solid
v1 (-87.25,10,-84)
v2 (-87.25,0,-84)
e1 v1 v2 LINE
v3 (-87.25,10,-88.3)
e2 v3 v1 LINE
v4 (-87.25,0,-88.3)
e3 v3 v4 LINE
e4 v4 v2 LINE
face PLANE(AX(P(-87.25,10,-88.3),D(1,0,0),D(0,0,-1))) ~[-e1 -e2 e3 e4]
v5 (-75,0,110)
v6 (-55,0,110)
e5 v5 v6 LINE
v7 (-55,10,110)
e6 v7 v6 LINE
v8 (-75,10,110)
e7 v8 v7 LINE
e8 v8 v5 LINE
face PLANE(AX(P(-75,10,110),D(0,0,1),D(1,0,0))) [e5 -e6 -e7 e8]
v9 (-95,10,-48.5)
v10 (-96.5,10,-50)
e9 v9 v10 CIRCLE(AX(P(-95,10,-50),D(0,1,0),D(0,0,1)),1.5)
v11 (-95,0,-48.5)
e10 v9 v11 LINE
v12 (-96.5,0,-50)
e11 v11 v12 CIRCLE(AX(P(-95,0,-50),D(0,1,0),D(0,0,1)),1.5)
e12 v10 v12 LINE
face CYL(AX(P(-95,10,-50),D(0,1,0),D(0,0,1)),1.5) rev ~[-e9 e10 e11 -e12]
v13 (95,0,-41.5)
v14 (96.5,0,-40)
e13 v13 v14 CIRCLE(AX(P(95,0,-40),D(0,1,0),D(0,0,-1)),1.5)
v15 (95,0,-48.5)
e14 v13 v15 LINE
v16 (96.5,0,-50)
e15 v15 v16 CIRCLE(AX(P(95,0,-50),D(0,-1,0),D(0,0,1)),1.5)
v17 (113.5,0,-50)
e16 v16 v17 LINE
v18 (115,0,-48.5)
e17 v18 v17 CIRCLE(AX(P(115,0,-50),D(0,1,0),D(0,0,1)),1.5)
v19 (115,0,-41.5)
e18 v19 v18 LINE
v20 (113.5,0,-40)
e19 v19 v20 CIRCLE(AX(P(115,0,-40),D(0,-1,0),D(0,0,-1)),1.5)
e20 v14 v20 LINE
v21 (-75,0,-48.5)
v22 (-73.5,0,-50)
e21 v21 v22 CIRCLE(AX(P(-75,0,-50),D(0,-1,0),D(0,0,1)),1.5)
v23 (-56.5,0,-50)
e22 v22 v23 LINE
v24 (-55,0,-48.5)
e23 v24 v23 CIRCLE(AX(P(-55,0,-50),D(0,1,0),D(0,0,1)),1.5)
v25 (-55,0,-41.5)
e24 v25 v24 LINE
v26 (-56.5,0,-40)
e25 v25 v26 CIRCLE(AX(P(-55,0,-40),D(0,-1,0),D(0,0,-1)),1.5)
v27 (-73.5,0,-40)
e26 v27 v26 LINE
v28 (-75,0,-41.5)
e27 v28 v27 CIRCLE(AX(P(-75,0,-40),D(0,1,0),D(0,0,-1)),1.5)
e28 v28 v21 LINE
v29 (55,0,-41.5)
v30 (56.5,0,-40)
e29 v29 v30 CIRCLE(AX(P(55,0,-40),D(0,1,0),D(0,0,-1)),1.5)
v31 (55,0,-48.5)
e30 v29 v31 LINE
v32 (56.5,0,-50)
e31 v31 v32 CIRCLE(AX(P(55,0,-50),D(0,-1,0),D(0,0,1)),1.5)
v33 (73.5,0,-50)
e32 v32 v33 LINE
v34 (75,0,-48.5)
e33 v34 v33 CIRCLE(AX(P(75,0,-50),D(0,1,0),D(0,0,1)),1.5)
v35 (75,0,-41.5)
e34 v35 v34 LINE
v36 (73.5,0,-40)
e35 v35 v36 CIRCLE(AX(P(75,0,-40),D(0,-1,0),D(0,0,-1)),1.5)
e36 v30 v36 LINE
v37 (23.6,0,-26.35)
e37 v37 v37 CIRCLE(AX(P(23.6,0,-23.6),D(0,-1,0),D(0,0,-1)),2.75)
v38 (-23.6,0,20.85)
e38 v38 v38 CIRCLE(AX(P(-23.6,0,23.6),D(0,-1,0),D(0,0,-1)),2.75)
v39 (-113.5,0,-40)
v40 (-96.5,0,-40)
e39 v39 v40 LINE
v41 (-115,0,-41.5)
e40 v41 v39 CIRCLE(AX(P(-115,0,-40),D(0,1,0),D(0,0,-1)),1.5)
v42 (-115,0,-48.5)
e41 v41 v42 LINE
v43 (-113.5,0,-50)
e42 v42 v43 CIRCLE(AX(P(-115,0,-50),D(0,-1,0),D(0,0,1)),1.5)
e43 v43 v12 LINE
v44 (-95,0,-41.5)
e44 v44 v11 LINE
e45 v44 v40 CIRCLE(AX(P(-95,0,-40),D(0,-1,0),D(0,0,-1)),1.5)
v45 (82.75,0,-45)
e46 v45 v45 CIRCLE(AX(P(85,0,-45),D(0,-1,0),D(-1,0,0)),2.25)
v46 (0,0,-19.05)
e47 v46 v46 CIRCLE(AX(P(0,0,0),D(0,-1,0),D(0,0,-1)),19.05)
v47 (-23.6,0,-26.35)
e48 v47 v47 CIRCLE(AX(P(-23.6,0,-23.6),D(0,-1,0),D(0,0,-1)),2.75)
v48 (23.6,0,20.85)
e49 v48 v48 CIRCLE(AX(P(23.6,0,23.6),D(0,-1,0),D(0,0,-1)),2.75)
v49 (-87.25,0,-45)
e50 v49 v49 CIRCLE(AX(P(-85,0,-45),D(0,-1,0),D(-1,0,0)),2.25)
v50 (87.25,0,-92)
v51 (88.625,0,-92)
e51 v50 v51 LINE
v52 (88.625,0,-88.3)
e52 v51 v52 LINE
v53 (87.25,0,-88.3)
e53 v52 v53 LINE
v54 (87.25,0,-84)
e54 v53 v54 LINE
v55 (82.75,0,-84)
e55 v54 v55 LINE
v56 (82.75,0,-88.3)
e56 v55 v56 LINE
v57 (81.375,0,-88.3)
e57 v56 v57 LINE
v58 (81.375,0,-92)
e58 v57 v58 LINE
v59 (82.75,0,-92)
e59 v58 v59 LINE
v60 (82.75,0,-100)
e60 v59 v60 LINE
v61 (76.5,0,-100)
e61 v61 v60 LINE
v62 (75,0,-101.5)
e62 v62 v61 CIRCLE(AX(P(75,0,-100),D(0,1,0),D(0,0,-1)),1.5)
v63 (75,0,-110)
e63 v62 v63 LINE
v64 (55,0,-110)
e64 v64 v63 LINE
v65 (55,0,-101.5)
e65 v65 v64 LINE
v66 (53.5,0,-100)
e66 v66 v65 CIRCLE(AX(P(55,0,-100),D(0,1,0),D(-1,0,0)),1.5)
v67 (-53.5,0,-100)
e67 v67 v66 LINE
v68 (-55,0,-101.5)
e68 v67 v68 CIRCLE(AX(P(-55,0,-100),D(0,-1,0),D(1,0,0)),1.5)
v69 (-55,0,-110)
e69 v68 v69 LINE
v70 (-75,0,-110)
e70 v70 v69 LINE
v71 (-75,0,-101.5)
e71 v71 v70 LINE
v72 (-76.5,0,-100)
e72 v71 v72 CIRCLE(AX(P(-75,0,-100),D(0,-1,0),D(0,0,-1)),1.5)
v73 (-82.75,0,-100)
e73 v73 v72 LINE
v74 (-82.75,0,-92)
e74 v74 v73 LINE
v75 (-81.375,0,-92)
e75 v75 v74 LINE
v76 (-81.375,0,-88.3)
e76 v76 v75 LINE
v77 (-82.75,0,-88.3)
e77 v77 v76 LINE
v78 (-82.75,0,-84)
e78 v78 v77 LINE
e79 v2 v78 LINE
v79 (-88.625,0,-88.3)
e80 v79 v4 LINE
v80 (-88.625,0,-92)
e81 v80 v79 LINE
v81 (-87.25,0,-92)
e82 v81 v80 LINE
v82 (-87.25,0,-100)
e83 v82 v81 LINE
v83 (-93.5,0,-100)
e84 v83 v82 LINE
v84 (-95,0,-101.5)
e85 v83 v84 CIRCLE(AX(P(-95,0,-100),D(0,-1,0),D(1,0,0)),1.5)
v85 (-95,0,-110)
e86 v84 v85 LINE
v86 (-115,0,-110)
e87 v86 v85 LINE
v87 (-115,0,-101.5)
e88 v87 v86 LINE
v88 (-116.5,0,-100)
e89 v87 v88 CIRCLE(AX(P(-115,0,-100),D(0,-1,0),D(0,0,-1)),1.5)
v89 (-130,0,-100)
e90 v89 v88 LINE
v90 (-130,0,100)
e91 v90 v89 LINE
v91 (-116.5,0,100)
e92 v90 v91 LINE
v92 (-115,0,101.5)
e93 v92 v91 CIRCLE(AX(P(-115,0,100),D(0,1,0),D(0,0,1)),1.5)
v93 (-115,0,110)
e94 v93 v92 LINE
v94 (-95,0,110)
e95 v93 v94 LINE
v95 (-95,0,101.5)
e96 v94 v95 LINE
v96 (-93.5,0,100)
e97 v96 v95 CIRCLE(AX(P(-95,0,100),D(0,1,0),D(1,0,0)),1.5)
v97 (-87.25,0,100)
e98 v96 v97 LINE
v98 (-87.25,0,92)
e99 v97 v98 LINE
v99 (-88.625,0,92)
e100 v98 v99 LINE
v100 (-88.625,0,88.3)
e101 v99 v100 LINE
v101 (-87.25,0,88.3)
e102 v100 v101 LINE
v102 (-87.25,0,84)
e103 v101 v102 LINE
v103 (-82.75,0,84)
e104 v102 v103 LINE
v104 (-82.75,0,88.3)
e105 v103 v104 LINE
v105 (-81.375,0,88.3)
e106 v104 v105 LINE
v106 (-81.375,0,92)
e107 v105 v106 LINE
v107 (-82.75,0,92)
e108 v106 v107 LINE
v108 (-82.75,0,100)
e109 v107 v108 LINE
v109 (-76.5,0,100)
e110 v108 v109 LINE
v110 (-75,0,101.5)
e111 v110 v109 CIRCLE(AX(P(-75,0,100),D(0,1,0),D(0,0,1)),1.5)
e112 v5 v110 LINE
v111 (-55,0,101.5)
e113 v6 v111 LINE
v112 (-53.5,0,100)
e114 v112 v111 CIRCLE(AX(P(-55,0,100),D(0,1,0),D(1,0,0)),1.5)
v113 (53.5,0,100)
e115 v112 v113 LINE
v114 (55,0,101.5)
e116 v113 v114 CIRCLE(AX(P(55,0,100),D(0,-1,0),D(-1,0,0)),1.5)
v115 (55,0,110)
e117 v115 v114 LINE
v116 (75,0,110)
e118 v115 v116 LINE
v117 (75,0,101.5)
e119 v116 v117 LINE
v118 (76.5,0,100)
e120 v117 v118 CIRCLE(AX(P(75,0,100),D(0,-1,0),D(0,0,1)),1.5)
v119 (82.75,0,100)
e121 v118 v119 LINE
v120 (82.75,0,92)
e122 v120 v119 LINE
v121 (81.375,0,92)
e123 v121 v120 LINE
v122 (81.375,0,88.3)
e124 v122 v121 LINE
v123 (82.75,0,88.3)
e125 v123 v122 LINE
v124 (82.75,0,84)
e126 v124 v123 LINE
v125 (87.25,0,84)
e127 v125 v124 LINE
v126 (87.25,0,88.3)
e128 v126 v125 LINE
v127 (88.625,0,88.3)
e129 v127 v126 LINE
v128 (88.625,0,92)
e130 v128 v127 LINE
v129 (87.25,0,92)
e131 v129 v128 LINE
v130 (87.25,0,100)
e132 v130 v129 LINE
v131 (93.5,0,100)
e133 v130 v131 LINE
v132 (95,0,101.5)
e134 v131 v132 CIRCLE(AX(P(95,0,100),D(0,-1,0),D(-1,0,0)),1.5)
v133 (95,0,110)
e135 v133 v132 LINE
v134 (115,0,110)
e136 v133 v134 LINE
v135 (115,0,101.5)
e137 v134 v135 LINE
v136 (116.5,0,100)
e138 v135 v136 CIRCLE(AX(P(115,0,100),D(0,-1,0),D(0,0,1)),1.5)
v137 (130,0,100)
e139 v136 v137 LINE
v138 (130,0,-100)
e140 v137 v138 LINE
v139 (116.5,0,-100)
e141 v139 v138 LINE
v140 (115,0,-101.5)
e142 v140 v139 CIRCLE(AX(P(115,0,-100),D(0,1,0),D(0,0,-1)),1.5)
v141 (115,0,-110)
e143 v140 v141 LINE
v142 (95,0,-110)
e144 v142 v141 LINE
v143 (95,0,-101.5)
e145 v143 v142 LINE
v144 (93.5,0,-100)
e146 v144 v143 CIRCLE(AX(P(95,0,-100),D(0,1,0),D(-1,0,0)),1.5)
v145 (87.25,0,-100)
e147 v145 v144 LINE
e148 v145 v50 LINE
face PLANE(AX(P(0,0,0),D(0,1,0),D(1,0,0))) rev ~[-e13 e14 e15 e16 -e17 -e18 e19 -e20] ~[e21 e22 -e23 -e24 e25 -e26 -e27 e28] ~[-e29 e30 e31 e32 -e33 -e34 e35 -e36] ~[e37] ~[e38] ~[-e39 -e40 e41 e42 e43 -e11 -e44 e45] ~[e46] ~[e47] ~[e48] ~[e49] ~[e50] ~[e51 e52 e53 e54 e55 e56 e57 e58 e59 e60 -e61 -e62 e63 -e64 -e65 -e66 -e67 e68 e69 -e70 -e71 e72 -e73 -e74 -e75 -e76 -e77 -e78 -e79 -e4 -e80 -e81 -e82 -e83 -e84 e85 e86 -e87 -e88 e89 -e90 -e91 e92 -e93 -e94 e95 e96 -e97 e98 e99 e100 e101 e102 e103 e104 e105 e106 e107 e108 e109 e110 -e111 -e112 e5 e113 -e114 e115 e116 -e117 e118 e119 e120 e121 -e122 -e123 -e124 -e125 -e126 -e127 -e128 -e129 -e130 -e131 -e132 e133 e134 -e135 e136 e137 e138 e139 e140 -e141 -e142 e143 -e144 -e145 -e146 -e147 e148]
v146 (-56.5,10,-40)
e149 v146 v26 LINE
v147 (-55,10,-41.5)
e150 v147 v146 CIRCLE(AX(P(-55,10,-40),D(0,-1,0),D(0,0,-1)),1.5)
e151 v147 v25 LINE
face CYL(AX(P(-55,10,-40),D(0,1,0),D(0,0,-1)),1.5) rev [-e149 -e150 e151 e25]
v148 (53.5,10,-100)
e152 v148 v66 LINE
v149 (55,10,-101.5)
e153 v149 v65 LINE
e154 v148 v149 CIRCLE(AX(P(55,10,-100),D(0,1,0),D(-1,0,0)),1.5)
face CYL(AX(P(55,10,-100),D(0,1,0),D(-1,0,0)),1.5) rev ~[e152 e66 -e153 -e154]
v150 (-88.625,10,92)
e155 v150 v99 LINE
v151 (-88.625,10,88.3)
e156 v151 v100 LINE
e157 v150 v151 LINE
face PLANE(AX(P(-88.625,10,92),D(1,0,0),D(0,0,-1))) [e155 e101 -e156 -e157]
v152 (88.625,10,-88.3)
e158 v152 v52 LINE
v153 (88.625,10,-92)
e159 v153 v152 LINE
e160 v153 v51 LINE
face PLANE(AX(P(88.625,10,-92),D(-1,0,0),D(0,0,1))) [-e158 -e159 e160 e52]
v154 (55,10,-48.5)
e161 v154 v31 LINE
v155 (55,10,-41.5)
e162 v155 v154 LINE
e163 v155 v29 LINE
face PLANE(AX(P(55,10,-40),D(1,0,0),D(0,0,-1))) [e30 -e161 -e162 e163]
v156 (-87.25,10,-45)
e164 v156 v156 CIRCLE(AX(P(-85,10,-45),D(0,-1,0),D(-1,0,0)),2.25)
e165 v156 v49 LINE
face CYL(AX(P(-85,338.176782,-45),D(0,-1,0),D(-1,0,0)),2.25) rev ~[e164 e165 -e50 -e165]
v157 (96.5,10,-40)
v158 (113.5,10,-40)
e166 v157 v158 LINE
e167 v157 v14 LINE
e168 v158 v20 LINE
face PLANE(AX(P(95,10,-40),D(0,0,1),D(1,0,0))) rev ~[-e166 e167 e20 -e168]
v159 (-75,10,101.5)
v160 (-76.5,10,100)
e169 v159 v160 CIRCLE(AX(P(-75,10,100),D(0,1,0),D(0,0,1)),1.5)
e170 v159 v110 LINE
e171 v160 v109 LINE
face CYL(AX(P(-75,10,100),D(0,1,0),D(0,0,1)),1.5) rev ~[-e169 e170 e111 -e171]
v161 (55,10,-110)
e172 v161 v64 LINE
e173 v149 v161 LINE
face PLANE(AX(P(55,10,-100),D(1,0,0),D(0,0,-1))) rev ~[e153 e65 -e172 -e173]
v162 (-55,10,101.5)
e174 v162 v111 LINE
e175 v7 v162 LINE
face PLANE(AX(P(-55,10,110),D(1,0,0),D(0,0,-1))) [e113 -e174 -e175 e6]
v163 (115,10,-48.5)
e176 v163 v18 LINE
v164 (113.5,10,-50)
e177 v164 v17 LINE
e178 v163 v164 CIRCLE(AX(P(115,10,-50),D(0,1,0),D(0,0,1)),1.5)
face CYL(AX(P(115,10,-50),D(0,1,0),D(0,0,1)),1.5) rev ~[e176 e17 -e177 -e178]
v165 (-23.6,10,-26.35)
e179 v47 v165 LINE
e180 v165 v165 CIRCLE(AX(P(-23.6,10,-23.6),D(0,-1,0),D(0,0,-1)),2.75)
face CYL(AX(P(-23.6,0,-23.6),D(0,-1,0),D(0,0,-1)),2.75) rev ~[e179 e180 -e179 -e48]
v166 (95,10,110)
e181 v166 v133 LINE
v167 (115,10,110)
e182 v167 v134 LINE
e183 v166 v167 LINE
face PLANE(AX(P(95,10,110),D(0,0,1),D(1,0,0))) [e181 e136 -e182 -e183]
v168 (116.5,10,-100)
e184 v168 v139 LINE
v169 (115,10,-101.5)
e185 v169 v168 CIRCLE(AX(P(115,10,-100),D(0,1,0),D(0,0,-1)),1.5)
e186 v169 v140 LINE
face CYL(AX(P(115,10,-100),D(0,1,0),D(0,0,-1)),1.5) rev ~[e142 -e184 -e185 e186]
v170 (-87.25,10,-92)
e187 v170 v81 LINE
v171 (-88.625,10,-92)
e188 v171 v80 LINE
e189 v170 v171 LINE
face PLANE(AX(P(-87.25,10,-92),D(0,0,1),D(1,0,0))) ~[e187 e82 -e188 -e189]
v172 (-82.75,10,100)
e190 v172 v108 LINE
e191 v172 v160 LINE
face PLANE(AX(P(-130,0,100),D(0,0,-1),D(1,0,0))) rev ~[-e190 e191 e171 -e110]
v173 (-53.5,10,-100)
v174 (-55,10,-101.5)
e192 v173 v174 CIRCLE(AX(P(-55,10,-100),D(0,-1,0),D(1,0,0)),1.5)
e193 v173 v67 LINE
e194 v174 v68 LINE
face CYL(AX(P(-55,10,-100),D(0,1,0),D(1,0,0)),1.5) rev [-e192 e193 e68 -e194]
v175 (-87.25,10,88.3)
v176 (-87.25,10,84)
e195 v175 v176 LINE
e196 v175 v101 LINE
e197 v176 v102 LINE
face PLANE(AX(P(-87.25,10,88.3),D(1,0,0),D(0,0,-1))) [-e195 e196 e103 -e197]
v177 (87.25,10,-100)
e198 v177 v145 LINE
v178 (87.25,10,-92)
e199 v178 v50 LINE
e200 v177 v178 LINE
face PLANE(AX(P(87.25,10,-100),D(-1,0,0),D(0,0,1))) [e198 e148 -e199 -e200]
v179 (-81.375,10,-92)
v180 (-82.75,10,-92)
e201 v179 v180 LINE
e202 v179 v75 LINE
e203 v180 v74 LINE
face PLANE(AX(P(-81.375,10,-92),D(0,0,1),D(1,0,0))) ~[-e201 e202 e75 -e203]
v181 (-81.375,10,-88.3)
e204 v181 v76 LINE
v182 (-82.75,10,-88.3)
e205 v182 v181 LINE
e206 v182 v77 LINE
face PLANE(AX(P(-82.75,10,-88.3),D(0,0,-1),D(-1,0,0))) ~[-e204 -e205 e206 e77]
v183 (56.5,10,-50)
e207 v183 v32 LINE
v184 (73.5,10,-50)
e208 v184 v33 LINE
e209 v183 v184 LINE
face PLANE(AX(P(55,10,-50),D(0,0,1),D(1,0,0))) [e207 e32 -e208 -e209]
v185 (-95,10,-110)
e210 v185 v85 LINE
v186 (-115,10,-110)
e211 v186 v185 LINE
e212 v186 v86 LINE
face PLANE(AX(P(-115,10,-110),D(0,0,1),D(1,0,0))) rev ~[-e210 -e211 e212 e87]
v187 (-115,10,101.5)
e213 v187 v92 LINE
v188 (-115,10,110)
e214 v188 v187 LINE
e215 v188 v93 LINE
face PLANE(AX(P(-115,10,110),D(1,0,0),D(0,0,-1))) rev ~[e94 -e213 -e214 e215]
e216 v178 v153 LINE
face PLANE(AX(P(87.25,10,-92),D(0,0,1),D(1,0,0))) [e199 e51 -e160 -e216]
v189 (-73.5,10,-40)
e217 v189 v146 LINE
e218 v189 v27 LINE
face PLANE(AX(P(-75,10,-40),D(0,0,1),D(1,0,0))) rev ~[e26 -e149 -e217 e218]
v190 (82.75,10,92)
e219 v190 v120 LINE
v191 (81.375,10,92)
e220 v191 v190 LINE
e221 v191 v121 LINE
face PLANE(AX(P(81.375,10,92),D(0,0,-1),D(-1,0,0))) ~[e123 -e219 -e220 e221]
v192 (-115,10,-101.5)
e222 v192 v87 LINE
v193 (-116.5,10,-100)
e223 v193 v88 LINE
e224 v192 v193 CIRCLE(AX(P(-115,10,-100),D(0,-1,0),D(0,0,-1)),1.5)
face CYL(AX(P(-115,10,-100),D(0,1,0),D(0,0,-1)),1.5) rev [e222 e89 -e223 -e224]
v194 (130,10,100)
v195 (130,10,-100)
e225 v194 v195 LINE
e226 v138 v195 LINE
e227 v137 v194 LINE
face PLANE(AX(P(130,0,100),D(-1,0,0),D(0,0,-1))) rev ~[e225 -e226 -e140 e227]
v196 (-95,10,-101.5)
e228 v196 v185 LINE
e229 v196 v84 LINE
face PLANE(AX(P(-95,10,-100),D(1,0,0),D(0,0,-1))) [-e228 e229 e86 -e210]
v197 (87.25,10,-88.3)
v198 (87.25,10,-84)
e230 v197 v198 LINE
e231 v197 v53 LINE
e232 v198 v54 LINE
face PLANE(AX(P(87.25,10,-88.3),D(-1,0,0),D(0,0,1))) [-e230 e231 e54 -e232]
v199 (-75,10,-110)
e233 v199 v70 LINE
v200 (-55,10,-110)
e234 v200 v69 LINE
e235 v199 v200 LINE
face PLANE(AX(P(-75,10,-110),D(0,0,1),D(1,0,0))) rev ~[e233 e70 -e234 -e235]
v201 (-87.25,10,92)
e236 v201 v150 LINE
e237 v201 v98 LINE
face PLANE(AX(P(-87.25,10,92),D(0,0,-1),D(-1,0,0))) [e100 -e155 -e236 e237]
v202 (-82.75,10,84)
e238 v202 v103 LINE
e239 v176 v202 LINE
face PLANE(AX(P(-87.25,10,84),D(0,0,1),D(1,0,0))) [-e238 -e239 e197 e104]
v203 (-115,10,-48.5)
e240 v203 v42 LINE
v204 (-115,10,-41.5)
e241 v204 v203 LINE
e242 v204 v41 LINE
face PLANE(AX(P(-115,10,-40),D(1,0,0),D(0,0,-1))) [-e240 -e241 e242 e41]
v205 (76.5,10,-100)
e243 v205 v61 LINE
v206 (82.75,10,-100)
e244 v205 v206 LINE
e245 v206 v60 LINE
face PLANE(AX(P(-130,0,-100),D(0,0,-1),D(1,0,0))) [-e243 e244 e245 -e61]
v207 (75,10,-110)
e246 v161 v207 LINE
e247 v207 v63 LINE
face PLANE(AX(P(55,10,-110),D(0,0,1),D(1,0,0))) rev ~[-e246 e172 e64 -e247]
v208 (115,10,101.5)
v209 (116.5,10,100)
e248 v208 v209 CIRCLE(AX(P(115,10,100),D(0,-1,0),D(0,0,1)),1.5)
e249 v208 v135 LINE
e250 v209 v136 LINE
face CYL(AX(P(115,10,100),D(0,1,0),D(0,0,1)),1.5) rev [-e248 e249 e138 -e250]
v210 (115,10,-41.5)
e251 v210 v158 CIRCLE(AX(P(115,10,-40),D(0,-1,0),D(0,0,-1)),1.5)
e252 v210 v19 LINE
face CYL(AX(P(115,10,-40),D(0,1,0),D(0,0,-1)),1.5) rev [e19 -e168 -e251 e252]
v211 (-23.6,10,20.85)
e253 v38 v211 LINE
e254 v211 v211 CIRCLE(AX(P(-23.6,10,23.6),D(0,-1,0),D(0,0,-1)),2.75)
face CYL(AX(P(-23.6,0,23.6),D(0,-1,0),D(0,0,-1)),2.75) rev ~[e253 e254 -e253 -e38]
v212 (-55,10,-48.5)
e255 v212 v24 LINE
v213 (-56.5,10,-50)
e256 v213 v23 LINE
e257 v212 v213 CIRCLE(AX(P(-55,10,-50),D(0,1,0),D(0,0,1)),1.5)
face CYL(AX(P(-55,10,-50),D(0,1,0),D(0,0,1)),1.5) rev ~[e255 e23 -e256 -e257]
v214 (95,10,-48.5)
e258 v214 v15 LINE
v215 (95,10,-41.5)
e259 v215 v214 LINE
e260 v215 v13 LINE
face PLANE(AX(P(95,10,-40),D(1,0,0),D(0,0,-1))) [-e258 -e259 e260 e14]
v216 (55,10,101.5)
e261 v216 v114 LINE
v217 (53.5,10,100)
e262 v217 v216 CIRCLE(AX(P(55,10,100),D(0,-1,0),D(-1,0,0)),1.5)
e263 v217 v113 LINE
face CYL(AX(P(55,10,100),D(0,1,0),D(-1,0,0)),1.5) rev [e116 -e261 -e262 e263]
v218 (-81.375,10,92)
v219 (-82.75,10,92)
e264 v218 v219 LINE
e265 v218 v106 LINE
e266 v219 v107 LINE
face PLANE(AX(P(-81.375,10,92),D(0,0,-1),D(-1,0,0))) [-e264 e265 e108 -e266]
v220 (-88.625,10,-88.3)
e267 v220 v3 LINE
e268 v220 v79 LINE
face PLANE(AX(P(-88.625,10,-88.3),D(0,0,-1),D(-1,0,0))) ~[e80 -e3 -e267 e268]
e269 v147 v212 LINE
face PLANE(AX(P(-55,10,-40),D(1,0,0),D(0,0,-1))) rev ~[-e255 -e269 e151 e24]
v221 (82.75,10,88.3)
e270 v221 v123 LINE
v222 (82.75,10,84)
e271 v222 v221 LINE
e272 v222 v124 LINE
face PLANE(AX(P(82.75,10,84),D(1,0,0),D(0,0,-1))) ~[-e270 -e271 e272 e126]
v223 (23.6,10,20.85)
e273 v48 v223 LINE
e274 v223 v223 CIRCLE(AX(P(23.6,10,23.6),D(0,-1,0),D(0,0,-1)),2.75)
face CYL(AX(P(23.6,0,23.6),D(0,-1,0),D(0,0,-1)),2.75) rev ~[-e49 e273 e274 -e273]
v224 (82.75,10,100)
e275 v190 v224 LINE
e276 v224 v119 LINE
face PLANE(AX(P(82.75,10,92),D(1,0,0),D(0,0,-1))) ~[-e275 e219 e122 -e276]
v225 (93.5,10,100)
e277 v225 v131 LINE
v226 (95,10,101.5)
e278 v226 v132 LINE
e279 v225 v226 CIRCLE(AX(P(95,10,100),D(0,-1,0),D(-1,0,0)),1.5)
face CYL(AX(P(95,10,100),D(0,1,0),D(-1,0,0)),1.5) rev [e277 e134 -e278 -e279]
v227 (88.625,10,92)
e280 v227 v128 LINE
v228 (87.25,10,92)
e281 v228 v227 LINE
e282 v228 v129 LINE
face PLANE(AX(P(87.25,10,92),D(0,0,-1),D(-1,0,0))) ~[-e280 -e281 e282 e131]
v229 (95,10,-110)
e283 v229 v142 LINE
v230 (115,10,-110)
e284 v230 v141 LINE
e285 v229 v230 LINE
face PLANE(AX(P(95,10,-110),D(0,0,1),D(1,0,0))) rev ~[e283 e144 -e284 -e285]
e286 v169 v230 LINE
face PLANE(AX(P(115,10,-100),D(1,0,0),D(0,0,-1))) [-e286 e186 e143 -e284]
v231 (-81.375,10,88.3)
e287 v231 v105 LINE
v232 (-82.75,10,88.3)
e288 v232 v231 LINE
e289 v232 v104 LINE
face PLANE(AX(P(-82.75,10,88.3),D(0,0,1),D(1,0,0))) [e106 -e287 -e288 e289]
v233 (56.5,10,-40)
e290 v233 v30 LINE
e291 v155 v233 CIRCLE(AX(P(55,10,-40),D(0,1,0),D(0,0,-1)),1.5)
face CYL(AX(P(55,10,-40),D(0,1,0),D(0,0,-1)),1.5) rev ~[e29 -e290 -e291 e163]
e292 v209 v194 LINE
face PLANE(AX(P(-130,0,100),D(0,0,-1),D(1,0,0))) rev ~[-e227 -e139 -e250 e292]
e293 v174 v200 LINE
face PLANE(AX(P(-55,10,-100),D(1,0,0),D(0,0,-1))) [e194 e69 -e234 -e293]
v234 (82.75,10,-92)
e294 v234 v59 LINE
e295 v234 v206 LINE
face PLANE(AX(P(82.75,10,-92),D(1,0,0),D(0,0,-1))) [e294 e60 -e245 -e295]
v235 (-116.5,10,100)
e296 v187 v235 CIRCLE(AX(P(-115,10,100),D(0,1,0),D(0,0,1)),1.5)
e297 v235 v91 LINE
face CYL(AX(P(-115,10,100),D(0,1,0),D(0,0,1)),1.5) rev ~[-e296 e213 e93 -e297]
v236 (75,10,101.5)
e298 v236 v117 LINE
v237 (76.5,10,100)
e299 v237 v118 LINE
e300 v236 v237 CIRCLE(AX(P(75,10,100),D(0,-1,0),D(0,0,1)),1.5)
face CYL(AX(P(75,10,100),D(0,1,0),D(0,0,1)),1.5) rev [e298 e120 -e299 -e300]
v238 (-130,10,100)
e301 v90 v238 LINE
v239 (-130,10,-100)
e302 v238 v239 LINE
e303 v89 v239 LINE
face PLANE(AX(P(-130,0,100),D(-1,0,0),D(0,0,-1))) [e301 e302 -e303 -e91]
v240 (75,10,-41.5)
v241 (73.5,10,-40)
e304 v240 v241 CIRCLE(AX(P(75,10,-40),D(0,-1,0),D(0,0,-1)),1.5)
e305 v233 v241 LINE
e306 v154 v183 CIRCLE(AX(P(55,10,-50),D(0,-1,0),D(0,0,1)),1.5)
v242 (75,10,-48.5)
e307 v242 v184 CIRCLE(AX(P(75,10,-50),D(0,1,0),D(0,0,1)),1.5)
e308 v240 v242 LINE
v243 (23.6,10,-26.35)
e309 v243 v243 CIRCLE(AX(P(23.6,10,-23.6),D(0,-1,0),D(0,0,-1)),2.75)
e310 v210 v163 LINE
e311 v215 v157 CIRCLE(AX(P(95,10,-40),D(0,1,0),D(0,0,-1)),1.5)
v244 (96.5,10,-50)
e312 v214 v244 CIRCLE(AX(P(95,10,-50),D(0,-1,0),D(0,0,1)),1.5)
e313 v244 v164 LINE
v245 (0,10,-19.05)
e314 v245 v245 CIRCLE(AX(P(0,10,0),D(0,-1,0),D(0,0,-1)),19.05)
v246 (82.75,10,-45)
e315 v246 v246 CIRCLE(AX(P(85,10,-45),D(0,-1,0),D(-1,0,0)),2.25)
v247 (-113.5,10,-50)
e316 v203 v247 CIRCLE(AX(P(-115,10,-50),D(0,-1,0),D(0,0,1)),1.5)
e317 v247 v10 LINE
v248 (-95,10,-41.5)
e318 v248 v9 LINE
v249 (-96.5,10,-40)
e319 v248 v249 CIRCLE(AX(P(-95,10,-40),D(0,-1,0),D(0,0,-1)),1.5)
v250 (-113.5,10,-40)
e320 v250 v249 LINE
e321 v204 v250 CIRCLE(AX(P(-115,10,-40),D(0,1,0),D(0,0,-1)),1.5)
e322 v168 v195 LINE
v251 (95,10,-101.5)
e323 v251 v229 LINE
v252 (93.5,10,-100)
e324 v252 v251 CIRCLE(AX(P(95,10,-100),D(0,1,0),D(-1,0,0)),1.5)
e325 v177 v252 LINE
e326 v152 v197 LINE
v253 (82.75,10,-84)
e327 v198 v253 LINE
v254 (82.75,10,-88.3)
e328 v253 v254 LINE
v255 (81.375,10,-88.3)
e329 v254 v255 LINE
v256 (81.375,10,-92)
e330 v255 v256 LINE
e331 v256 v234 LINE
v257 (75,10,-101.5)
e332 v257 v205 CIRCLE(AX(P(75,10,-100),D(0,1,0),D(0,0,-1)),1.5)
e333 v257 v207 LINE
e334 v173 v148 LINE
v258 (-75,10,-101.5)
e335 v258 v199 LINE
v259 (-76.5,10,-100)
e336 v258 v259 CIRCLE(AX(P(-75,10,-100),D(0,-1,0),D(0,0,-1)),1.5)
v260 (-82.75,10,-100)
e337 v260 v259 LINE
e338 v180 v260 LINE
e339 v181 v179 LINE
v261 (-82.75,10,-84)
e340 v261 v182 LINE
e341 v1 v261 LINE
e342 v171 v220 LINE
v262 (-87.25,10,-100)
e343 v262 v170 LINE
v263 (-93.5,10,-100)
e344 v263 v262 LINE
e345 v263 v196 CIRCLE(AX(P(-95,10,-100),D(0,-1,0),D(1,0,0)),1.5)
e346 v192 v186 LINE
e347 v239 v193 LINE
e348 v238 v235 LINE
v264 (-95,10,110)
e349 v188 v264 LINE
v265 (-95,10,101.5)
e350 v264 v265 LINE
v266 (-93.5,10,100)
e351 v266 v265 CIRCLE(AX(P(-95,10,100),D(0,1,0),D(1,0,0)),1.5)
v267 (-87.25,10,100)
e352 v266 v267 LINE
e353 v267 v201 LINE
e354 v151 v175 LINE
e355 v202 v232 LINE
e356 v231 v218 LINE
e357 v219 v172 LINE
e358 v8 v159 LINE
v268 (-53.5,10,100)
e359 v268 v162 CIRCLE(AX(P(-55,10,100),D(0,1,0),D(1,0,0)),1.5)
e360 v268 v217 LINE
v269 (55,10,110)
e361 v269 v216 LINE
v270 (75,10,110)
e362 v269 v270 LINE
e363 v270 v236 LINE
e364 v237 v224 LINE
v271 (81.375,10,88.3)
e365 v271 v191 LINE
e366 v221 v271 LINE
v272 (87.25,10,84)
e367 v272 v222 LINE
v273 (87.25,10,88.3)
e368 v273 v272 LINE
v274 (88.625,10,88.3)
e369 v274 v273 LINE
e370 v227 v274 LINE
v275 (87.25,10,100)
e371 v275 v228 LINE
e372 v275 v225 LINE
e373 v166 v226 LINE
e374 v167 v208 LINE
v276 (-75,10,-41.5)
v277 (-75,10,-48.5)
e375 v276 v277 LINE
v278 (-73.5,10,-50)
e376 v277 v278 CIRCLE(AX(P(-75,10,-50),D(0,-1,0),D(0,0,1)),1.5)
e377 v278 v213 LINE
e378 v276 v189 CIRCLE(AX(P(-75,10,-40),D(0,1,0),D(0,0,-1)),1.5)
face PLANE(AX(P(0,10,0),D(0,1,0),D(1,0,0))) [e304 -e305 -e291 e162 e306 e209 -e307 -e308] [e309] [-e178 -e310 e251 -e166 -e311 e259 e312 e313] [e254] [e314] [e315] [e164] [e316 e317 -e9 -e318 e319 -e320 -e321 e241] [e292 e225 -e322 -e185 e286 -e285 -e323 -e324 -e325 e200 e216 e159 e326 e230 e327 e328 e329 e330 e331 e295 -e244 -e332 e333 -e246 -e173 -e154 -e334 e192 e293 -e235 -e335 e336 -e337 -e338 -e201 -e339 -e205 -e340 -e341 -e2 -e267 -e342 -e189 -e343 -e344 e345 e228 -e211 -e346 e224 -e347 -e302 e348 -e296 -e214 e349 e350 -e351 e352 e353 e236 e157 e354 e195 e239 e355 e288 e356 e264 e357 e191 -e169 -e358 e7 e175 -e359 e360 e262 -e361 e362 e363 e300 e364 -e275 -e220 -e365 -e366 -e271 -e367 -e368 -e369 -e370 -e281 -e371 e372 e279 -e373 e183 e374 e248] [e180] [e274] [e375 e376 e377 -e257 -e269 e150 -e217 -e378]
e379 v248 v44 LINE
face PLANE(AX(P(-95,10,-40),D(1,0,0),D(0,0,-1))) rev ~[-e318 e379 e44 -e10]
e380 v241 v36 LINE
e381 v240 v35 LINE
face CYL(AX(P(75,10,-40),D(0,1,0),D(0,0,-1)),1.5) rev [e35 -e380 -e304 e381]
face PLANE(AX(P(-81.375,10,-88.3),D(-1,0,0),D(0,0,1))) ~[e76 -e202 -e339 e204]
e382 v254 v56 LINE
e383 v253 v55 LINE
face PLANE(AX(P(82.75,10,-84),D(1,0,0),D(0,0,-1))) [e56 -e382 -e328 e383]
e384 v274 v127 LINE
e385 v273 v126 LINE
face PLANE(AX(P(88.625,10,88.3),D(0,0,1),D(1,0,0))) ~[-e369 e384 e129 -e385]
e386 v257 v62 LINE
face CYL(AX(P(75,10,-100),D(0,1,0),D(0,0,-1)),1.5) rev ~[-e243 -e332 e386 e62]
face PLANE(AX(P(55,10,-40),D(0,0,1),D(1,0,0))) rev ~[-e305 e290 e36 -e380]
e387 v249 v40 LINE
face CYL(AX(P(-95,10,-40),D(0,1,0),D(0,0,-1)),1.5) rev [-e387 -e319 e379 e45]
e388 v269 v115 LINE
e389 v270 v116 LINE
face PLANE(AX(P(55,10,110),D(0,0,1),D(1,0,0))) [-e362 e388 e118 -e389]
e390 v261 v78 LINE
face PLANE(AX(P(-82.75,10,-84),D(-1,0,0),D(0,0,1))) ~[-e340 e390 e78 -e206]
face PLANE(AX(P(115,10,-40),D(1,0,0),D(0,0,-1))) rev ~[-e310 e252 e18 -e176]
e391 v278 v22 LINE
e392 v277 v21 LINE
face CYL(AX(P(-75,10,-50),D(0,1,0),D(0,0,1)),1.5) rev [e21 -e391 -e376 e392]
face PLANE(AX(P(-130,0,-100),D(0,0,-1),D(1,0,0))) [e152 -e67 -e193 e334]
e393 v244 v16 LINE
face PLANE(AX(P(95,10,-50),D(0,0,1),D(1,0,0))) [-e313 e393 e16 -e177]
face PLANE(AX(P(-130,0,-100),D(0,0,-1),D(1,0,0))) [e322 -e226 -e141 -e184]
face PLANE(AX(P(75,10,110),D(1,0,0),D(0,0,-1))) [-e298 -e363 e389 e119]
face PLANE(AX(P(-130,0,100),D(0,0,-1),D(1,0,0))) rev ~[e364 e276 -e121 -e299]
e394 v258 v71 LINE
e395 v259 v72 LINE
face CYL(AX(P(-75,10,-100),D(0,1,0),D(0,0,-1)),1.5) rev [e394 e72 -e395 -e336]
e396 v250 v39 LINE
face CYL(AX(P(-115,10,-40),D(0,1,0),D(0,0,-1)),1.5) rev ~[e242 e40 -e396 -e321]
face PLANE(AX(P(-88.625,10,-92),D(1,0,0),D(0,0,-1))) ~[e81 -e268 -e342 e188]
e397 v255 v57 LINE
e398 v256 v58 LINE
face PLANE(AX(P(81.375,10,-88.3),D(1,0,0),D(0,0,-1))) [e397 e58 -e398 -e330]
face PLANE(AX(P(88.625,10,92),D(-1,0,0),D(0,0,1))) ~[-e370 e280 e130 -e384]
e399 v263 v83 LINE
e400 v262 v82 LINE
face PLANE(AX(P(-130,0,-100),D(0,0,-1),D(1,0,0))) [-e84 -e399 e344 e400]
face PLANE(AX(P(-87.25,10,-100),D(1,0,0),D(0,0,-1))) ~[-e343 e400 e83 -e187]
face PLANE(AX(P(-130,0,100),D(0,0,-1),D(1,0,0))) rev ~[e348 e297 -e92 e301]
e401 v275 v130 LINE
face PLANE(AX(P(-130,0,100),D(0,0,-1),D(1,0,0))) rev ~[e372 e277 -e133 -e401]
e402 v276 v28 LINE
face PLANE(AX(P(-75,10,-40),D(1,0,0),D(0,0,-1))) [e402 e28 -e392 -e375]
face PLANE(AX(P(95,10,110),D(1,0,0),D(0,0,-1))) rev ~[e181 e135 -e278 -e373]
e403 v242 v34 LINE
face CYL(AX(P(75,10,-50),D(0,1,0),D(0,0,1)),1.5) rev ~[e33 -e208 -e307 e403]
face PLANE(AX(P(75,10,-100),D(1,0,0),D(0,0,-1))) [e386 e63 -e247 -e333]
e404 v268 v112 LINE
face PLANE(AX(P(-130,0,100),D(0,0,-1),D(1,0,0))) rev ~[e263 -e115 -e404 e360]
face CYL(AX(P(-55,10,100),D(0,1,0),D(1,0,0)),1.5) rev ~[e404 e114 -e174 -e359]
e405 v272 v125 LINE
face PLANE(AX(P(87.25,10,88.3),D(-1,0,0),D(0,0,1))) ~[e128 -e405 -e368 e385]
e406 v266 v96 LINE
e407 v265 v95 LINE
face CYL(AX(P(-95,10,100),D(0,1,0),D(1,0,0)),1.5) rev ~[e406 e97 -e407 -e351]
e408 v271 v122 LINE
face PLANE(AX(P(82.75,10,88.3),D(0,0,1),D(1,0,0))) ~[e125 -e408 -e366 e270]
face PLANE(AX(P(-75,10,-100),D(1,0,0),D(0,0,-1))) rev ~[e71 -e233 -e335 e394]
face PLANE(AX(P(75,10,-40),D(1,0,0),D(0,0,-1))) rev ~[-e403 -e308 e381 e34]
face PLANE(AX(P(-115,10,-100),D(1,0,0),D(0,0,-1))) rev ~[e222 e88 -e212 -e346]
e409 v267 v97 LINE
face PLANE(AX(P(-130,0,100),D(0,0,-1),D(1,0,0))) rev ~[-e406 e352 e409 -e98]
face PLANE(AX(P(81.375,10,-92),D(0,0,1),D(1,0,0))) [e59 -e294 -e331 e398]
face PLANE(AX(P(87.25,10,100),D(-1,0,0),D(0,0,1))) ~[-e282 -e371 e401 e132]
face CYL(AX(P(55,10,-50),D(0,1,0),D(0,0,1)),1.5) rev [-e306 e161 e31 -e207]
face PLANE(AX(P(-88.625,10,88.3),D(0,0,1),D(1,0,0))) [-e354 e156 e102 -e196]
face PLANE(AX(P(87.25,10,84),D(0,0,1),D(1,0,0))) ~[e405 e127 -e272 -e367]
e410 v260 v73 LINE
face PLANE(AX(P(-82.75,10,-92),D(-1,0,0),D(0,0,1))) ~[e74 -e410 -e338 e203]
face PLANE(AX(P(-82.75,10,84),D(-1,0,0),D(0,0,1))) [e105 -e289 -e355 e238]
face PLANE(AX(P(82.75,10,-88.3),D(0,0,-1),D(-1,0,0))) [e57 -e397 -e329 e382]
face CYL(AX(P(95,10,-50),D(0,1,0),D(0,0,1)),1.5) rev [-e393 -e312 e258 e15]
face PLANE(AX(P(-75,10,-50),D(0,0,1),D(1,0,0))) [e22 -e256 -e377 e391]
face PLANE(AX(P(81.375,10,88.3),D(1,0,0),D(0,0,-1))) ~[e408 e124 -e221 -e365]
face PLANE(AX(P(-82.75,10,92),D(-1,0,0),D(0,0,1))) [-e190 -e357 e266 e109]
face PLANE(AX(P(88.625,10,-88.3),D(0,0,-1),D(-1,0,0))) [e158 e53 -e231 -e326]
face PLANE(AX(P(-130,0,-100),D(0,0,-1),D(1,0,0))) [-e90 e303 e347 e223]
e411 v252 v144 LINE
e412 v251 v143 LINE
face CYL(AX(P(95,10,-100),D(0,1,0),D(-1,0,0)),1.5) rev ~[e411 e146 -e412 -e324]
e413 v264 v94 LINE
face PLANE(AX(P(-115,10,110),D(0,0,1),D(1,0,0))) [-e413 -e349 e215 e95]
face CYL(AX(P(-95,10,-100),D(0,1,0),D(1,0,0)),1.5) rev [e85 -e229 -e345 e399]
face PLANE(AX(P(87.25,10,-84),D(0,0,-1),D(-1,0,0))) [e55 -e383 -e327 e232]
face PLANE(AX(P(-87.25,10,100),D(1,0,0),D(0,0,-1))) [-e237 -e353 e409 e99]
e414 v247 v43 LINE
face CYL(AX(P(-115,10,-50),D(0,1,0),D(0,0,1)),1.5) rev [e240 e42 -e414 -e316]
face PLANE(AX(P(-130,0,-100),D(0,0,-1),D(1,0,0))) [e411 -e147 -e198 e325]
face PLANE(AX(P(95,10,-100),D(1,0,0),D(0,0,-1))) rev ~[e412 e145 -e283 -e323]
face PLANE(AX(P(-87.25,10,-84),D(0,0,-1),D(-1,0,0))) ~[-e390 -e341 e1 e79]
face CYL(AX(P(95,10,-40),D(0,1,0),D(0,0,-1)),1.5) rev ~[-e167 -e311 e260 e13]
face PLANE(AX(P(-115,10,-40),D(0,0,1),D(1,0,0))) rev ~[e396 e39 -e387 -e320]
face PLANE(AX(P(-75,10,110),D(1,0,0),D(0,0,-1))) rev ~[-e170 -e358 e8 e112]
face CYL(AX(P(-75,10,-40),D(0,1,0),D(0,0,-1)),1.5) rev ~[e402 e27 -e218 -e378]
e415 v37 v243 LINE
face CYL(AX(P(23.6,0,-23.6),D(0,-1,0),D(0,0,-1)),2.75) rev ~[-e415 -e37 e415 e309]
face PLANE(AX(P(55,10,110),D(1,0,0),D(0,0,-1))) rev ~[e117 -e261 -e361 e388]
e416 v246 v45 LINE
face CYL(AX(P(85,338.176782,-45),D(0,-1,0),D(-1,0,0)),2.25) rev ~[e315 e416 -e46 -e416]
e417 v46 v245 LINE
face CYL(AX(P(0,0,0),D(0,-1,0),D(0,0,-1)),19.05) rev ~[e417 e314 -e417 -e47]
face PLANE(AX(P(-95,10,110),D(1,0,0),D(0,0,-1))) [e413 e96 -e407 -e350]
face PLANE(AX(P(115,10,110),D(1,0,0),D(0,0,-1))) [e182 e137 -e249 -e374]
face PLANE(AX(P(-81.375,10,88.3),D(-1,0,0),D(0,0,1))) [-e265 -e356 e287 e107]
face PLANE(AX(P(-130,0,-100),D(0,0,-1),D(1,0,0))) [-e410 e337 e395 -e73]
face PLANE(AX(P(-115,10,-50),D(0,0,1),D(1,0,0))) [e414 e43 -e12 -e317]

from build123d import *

# Parameters (mm, degrees)
SKETCH1_W            = 260
SKETCH1_H            = 200
EXTRUDE1_DEPTH       = 10
SKETCH3_W            = 20
SKETCH3_H            = 10
EXTRUDE2_DEPTH       = 10
M4_CLEARANCE_HOLE1_D = 4.5
EXTRUDE3_DEPTH       = 10
MIRROR2_COPY_1_DEPTH = 10
MIRROR3_COPY_1_DEPTH = 10
MIRROR3_COPY_2_DEPTH = 10
MIRROR3_COPY_3_DEPTH = 10
SKETCH7_W            = 20
SKETCH7_H            = 10
EXTRUDE4_DEPTH       = 10
LPATTERN1_COUNT      = 2
LPATTERN1_PITCH      = 170
LPATTERN1_COUNT_DIR2 = 2
LPATTERN1_PITCH_DIR2 = 210
EXTRUDE5_DEPTH       = 10
MIRROR5_COPY_1_DEPTH = 10
EXTRUDE6_DEPTH       = 10
MIRROR7_COPY_1_DEPTH = 10
SKETCH11_R           = 19.05
SKETCH11_R_2         = 2.75
CUT_EXTRUDE2_DEPTH   = 10


with BuildPart() as part:
    # Sketch1 → Extrude1 (new body)
    with BuildSketch(Plane(origin=(0, 0, 0), x_dir=(1, 0, 0), z_dir=(0, 1, 0))):
        Rectangle(SKETCH1_W, SKETCH1_H)
    extrude(amount=EXTRUDE1_DEPTH)

    # Sketch3 → Extrude2 (cut)
    with BuildSketch(Plane(origin=(0, 10, 0), x_dir=(1, 0, 0), z_dir=(0, 1, 0))):
        with Locations((-105, 45)):
            Rectangle(SKETCH3_W, SKETCH3_H)
        with Locations((105, 45)):
            Rectangle(SKETCH3_W, SKETCH3_H)
        with Locations((-65, 45)):
            Rectangle(SKETCH3_W, SKETCH3_H)
        with Locations((65, 45)):
            Rectangle(SKETCH3_W, SKETCH3_H)
    extrude(amount=-EXTRUDE2_DEPTH, mode=Mode.SUBTRACT)

    # M4 Clearance Hole1 (through all)
    with Locations(Plane(origin=(0, 10, 0), x_dir=(1, 0, 0), z_dir=(0, 1, 0))):
        with Locations((-85, 45), (85, 45)):
            Hole(M4_CLEARANCE_HOLE1_D / 2)

    # Sketch6 → Extrude3 (cut)
    with BuildSketch(Plane(origin=(0, 10, 0), x_dir=(1, 0, 0), z_dir=(0, 1, 0))):
        with BuildLine():
            Line((-113.5, 50), (-115, 50))
            Line((-115, 50), (-115, 48.5))
            ThreePointArc((-115, 48.5), (-116.060660172, 51.060660172), (-113.5, 50))
        make_face()
        with BuildLine():
            Line((-113.5, 40), (-115, 40))
            Line((-115, 40), (-115, 41.5))
            ThreePointArc((-115, 41.5), (-116.060660172, 38.939339828), (-113.5, 40))
        make_face()
    extrude3 = extrude(amount=-EXTRUDE3_DEPTH, mode=Mode.SUBTRACT)

    # Mirror1: Extrude3 across plane
    add(extrude3.mirror(Plane(origin=(-105, 0, 0), x_dir=(0, 0, 1), z_dir=(1, 0, 0))), mode=Mode.SUBTRACT)

    # Mirror2: Extrude3 across plane
    add(extrude3.mirror(Plane.ZY.offset(85)), mode=Mode.SUBTRACT)

    # Mirror2 copy 1 sketch → Mirror2 copy 1 (cut)
    with BuildSketch(Plane(origin=(40, 10, 0), x_dir=(1, 0, 0), z_dir=(0, 1, 0))):
        with BuildLine():
            Line((-113.5, 50), (-115, 50))
            Line((-115, 50), (-115, 48.5))
            ThreePointArc((-115, 48.5), (-116.060660172, 51.060660172), (-113.5, 50))
        make_face()
        with BuildLine():
            Line((-113.5, 40), (-115, 40))
            Line((-115, 40), (-115, 41.5))
            ThreePointArc((-115, 41.5), (-116.060660172, 38.939339828), (-113.5, 40))
        make_face()
    extrude(amount=-MIRROR2_COPY_1_DEPTH, mode=Mode.SUBTRACT)

    # Mirror3: Extrude3 across plane
    add(extrude3.mirror(Plane(origin=(0, 0, 0), x_dir=(0, 0, 1), z_dir=(1, 0, 0))), mode=Mode.SUBTRACT)

    # Mirror3 copy 1 sketch → Mirror3 copy 1 (cut)
    with BuildSketch(Plane(origin=(210, 10, 0), x_dir=(1, 0, 0), z_dir=(0, 1, 0))):
        with BuildLine():
            Line((-113.5, 50), (-115, 50))
            Line((-115, 50), (-115, 48.5))
            ThreePointArc((-115, 48.5), (-116.060660172, 51.060660172), (-113.5, 50))
        make_face()
        with BuildLine():
            Line((-113.5, 40), (-115, 40))
            Line((-115, 40), (-115, 41.5))
            ThreePointArc((-115, 41.5), (-116.060660172, 38.939339828), (-113.5, 40))
        make_face()
    extrude(amount=-MIRROR3_COPY_1_DEPTH, mode=Mode.SUBTRACT)

    # Mirror3 copy 2 sketch → Mirror3 copy 2 (cut)
    with BuildSketch(Plane(origin=(170, 10, 0), x_dir=(1, 0, 0), z_dir=(0, 1, 0))):
        with BuildLine():
            Line((-113.5, 50), (-115, 50))
            Line((-115, 50), (-115, 48.5))
            ThreePointArc((-115, 48.5), (-116.060660172, 51.060660172), (-113.5, 50))
        make_face()
        with BuildLine():
            Line((-113.5, 40), (-115, 40))
            Line((-115, 40), (-115, 41.5))
            ThreePointArc((-115, 41.5), (-116.060660172, 38.939339828), (-113.5, 40))
        make_face()
    extrude(amount=-MIRROR3_COPY_2_DEPTH, mode=Mode.SUBTRACT)

    # Mirror3 copy 3 sketch → Mirror3 copy 3 (cut)
    with BuildSketch(Plane(origin=(-40, 10, 0), x_dir=(-1, 0, 0), z_dir=(0, 1, 0))):
        with BuildLine():
            Line((-113.5, -50), (-115, -50))
            Line((-115, -50), (-115, -48.5))
            ThreePointArc((-115, -48.5), (-116.060660172, -51.060660172), (-113.5, -50))
        make_face()
        with BuildLine():
            Line((-113.5, -40), (-115, -40))
            Line((-115, -40), (-115, -41.5))
            ThreePointArc((-115, -41.5), (-116.060660172, -38.939339828), (-113.5, -40))
        make_face()
    extrude(amount=-MIRROR3_COPY_3_DEPTH, mode=Mode.SUBTRACT)

    # Sketch7 → Extrude4 (add)
    with BuildSketch(Plane(origin=(0, 10, 0), x_dir=(1, 0, 0), z_dir=(0, 1, 0))):
        with Locations((-105, -105)):
            Rectangle(SKETCH7_W, SKETCH7_H)
        with Locations((-65, -105)):
            Rectangle(SKETCH7_W, SKETCH7_H)
    extrude4 = extrude(amount=-EXTRUDE4_DEPTH)

    # LPattern1: Extrude4 2 × 2
    with Locations(*[(i * LPATTERN1_PITCH, 0, -j * LPATTERN1_PITCH_DIR2) for i in range(LPATTERN1_COUNT) for j in range(LPATTERN1_COUNT_DIR2) if (i, j) != (0, 0)]):
        add(extrude4)

    # Sketch8 → Extrude5 (cut)
    with BuildSketch(Plane(origin=(0, 10, 0), x_dir=(1, 0, 0), z_dir=(0, 1, 0))):
        with BuildLine():
            Line((-116.5, -100), (-115, -100))
            Line((-115, -100), (-115, -101.5))
            ThreePointArc((-115, -101.5), (-113.939339828, -98.939339828), (-116.5, -100))
        make_face()
        with BuildLine():
            Line((-95, -101.5), (-95, -100))
            Line((-95, -100), (-93.5, -100))
            ThreePointArc((-93.5, -100), (-96.060660172, -98.939339828), (-95, -101.5))
        make_face()
        with BuildLine():
            Line((-75, -100), (-75, -101.5))
            ThreePointArc((-75, -101.5), (-73.939339828, -98.939339828), (-76.5, -100))
            Line((-76.5, -100), (-75, -100))
        make_face()
        with BuildLine():
            Line((-55, -101.5), (-55, -100))
            Line((-55, -100), (-53.5, -100))
            ThreePointArc((-53.5, -100), (-56.060660172, -98.939339828), (-55, -101.5))
        make_face()
    extrude5 = extrude(amount=-EXTRUDE5_DEPTH, mode=Mode.SUBTRACT)

    # Mirror4: Extrude5 across plane
    add(extrude5.mirror(Plane(origin=(0, 0, 0), x_dir=(0, 0, 1), z_dir=(1, 0, 0))), mode=Mode.SUBTRACT)

    # Mirror5: Extrude5 across plane
    add(extrude5.mirror(Plane.XY), mode=Mode.SUBTRACT)

    # Mirror5 copy 1 sketch → Mirror5 copy 1 (cut)
    with BuildSketch(Plane(origin=(0, 10, 0), x_dir=(-1, 0, 0), z_dir=(0, 1, 0))):
        with BuildLine():
            Line((-116.5, -100), (-115, -100))
            Line((-115, -100), (-115, -101.5))
            ThreePointArc((-115, -101.5), (-113.939339828, -98.939339828), (-116.5, -100))
        make_face()
        with BuildLine():
            Line((-95, -101.5), (-95, -100))
            Line((-95, -100), (-93.5, -100))
            ThreePointArc((-93.5, -100), (-96.060660172, -98.939339828), (-95, -101.5))
        make_face()
        with BuildLine():
            Line((-75, -100), (-75, -101.5))
            ThreePointArc((-75, -101.5), (-73.939339828, -98.939339828), (-76.5, -100))
            Line((-76.5, -100), (-75, -100))
        make_face()
        with BuildLine():
            Line((-55, -101.5), (-55, -100))
            Line((-55, -100), (-53.5, -100))
            ThreePointArc((-53.5, -100), (-56.060660172, -98.939339828), (-55, -101.5))
        make_face()
    extrude(amount=-MIRROR5_COPY_1_DEPTH, mode=Mode.SUBTRACT)

    # Sketch9 → Extrude6 (cut)
    with BuildSketch(Plane(origin=(0, 10, 0), x_dir=(1, 0, 0), z_dir=(0, 1, 0))):
        Polygon((-87.25, -100), (-87.25, -92), (-88.625, -92), (-88.625, -88.3), (-87.25, -88.3), (-87.25, -84), (-82.75, -84), (-82.75, -88.3), (-81.375, -88.3), (-81.375, -92), (-82.75, -92), (-82.75, -100), align=None)
    extrude6 = extrude(amount=-EXTRUDE6_DEPTH, mode=Mode.SUBTRACT)

    # Mirror6: Extrude6 across plane
    add(extrude6.mirror(Plane(origin=(0, 0, 0), x_dir=(0, 0, 1), z_dir=(1, 0, 0))), mode=Mode.SUBTRACT)

    # Mirror7: Extrude6 across plane
    add(extrude6.mirror(Plane.XY), mode=Mode.SUBTRACT)

    # Mirror7 copy 1 sketch → Mirror7 copy 1 (cut)
    with BuildSketch(Plane(origin=(0, 10, 0), x_dir=(-1, 0, 0), z_dir=(0, 1, 0))):
        Polygon((-87.25, -100), (-87.25, -92), (-88.625, -92), (-88.625, -88.3), (-87.25, -88.3), (-87.25, -84), (-82.75, -84), (-82.75, -88.3), (-81.375, -88.3), (-81.375, -92), (-82.75, -92), (-82.75, -100), align=None)
    extrude(amount=-MIRROR7_COPY_1_DEPTH, mode=Mode.SUBTRACT)

    # Sketch11 → Cut-Extrude2 (cut)
    with BuildSketch(Plane(origin=(-130, 0, 110), x_dir=(0, 0, 1), z_dir=(0, -1, 0))):
        with Locations(Location((-110, -130, 0), (0, 0, 180))):
            Circle(SKETCH11_R)
        with Locations(Location((-133.6, -106.4, 0), (0, 0, 180))):
            Circle(SKETCH11_R_2)
        with Locations(Location((-133.6, -153.6, 0), (0, 0, 180))):
            Circle(SKETCH11_R_2)
        with Locations(Location((-86.4, -153.6, 0), (0, 0, 180))):
            Circle(SKETCH11_R_2)
        with Locations(Location((-86.4, -106.4, 0), (0, 0, 180))):
            Circle(SKETCH11_R_2)
    extrude(amount=-CUT_EXTRUDE2_DEPTH, mode=Mode.SUBTRACT)


solid = part.part
